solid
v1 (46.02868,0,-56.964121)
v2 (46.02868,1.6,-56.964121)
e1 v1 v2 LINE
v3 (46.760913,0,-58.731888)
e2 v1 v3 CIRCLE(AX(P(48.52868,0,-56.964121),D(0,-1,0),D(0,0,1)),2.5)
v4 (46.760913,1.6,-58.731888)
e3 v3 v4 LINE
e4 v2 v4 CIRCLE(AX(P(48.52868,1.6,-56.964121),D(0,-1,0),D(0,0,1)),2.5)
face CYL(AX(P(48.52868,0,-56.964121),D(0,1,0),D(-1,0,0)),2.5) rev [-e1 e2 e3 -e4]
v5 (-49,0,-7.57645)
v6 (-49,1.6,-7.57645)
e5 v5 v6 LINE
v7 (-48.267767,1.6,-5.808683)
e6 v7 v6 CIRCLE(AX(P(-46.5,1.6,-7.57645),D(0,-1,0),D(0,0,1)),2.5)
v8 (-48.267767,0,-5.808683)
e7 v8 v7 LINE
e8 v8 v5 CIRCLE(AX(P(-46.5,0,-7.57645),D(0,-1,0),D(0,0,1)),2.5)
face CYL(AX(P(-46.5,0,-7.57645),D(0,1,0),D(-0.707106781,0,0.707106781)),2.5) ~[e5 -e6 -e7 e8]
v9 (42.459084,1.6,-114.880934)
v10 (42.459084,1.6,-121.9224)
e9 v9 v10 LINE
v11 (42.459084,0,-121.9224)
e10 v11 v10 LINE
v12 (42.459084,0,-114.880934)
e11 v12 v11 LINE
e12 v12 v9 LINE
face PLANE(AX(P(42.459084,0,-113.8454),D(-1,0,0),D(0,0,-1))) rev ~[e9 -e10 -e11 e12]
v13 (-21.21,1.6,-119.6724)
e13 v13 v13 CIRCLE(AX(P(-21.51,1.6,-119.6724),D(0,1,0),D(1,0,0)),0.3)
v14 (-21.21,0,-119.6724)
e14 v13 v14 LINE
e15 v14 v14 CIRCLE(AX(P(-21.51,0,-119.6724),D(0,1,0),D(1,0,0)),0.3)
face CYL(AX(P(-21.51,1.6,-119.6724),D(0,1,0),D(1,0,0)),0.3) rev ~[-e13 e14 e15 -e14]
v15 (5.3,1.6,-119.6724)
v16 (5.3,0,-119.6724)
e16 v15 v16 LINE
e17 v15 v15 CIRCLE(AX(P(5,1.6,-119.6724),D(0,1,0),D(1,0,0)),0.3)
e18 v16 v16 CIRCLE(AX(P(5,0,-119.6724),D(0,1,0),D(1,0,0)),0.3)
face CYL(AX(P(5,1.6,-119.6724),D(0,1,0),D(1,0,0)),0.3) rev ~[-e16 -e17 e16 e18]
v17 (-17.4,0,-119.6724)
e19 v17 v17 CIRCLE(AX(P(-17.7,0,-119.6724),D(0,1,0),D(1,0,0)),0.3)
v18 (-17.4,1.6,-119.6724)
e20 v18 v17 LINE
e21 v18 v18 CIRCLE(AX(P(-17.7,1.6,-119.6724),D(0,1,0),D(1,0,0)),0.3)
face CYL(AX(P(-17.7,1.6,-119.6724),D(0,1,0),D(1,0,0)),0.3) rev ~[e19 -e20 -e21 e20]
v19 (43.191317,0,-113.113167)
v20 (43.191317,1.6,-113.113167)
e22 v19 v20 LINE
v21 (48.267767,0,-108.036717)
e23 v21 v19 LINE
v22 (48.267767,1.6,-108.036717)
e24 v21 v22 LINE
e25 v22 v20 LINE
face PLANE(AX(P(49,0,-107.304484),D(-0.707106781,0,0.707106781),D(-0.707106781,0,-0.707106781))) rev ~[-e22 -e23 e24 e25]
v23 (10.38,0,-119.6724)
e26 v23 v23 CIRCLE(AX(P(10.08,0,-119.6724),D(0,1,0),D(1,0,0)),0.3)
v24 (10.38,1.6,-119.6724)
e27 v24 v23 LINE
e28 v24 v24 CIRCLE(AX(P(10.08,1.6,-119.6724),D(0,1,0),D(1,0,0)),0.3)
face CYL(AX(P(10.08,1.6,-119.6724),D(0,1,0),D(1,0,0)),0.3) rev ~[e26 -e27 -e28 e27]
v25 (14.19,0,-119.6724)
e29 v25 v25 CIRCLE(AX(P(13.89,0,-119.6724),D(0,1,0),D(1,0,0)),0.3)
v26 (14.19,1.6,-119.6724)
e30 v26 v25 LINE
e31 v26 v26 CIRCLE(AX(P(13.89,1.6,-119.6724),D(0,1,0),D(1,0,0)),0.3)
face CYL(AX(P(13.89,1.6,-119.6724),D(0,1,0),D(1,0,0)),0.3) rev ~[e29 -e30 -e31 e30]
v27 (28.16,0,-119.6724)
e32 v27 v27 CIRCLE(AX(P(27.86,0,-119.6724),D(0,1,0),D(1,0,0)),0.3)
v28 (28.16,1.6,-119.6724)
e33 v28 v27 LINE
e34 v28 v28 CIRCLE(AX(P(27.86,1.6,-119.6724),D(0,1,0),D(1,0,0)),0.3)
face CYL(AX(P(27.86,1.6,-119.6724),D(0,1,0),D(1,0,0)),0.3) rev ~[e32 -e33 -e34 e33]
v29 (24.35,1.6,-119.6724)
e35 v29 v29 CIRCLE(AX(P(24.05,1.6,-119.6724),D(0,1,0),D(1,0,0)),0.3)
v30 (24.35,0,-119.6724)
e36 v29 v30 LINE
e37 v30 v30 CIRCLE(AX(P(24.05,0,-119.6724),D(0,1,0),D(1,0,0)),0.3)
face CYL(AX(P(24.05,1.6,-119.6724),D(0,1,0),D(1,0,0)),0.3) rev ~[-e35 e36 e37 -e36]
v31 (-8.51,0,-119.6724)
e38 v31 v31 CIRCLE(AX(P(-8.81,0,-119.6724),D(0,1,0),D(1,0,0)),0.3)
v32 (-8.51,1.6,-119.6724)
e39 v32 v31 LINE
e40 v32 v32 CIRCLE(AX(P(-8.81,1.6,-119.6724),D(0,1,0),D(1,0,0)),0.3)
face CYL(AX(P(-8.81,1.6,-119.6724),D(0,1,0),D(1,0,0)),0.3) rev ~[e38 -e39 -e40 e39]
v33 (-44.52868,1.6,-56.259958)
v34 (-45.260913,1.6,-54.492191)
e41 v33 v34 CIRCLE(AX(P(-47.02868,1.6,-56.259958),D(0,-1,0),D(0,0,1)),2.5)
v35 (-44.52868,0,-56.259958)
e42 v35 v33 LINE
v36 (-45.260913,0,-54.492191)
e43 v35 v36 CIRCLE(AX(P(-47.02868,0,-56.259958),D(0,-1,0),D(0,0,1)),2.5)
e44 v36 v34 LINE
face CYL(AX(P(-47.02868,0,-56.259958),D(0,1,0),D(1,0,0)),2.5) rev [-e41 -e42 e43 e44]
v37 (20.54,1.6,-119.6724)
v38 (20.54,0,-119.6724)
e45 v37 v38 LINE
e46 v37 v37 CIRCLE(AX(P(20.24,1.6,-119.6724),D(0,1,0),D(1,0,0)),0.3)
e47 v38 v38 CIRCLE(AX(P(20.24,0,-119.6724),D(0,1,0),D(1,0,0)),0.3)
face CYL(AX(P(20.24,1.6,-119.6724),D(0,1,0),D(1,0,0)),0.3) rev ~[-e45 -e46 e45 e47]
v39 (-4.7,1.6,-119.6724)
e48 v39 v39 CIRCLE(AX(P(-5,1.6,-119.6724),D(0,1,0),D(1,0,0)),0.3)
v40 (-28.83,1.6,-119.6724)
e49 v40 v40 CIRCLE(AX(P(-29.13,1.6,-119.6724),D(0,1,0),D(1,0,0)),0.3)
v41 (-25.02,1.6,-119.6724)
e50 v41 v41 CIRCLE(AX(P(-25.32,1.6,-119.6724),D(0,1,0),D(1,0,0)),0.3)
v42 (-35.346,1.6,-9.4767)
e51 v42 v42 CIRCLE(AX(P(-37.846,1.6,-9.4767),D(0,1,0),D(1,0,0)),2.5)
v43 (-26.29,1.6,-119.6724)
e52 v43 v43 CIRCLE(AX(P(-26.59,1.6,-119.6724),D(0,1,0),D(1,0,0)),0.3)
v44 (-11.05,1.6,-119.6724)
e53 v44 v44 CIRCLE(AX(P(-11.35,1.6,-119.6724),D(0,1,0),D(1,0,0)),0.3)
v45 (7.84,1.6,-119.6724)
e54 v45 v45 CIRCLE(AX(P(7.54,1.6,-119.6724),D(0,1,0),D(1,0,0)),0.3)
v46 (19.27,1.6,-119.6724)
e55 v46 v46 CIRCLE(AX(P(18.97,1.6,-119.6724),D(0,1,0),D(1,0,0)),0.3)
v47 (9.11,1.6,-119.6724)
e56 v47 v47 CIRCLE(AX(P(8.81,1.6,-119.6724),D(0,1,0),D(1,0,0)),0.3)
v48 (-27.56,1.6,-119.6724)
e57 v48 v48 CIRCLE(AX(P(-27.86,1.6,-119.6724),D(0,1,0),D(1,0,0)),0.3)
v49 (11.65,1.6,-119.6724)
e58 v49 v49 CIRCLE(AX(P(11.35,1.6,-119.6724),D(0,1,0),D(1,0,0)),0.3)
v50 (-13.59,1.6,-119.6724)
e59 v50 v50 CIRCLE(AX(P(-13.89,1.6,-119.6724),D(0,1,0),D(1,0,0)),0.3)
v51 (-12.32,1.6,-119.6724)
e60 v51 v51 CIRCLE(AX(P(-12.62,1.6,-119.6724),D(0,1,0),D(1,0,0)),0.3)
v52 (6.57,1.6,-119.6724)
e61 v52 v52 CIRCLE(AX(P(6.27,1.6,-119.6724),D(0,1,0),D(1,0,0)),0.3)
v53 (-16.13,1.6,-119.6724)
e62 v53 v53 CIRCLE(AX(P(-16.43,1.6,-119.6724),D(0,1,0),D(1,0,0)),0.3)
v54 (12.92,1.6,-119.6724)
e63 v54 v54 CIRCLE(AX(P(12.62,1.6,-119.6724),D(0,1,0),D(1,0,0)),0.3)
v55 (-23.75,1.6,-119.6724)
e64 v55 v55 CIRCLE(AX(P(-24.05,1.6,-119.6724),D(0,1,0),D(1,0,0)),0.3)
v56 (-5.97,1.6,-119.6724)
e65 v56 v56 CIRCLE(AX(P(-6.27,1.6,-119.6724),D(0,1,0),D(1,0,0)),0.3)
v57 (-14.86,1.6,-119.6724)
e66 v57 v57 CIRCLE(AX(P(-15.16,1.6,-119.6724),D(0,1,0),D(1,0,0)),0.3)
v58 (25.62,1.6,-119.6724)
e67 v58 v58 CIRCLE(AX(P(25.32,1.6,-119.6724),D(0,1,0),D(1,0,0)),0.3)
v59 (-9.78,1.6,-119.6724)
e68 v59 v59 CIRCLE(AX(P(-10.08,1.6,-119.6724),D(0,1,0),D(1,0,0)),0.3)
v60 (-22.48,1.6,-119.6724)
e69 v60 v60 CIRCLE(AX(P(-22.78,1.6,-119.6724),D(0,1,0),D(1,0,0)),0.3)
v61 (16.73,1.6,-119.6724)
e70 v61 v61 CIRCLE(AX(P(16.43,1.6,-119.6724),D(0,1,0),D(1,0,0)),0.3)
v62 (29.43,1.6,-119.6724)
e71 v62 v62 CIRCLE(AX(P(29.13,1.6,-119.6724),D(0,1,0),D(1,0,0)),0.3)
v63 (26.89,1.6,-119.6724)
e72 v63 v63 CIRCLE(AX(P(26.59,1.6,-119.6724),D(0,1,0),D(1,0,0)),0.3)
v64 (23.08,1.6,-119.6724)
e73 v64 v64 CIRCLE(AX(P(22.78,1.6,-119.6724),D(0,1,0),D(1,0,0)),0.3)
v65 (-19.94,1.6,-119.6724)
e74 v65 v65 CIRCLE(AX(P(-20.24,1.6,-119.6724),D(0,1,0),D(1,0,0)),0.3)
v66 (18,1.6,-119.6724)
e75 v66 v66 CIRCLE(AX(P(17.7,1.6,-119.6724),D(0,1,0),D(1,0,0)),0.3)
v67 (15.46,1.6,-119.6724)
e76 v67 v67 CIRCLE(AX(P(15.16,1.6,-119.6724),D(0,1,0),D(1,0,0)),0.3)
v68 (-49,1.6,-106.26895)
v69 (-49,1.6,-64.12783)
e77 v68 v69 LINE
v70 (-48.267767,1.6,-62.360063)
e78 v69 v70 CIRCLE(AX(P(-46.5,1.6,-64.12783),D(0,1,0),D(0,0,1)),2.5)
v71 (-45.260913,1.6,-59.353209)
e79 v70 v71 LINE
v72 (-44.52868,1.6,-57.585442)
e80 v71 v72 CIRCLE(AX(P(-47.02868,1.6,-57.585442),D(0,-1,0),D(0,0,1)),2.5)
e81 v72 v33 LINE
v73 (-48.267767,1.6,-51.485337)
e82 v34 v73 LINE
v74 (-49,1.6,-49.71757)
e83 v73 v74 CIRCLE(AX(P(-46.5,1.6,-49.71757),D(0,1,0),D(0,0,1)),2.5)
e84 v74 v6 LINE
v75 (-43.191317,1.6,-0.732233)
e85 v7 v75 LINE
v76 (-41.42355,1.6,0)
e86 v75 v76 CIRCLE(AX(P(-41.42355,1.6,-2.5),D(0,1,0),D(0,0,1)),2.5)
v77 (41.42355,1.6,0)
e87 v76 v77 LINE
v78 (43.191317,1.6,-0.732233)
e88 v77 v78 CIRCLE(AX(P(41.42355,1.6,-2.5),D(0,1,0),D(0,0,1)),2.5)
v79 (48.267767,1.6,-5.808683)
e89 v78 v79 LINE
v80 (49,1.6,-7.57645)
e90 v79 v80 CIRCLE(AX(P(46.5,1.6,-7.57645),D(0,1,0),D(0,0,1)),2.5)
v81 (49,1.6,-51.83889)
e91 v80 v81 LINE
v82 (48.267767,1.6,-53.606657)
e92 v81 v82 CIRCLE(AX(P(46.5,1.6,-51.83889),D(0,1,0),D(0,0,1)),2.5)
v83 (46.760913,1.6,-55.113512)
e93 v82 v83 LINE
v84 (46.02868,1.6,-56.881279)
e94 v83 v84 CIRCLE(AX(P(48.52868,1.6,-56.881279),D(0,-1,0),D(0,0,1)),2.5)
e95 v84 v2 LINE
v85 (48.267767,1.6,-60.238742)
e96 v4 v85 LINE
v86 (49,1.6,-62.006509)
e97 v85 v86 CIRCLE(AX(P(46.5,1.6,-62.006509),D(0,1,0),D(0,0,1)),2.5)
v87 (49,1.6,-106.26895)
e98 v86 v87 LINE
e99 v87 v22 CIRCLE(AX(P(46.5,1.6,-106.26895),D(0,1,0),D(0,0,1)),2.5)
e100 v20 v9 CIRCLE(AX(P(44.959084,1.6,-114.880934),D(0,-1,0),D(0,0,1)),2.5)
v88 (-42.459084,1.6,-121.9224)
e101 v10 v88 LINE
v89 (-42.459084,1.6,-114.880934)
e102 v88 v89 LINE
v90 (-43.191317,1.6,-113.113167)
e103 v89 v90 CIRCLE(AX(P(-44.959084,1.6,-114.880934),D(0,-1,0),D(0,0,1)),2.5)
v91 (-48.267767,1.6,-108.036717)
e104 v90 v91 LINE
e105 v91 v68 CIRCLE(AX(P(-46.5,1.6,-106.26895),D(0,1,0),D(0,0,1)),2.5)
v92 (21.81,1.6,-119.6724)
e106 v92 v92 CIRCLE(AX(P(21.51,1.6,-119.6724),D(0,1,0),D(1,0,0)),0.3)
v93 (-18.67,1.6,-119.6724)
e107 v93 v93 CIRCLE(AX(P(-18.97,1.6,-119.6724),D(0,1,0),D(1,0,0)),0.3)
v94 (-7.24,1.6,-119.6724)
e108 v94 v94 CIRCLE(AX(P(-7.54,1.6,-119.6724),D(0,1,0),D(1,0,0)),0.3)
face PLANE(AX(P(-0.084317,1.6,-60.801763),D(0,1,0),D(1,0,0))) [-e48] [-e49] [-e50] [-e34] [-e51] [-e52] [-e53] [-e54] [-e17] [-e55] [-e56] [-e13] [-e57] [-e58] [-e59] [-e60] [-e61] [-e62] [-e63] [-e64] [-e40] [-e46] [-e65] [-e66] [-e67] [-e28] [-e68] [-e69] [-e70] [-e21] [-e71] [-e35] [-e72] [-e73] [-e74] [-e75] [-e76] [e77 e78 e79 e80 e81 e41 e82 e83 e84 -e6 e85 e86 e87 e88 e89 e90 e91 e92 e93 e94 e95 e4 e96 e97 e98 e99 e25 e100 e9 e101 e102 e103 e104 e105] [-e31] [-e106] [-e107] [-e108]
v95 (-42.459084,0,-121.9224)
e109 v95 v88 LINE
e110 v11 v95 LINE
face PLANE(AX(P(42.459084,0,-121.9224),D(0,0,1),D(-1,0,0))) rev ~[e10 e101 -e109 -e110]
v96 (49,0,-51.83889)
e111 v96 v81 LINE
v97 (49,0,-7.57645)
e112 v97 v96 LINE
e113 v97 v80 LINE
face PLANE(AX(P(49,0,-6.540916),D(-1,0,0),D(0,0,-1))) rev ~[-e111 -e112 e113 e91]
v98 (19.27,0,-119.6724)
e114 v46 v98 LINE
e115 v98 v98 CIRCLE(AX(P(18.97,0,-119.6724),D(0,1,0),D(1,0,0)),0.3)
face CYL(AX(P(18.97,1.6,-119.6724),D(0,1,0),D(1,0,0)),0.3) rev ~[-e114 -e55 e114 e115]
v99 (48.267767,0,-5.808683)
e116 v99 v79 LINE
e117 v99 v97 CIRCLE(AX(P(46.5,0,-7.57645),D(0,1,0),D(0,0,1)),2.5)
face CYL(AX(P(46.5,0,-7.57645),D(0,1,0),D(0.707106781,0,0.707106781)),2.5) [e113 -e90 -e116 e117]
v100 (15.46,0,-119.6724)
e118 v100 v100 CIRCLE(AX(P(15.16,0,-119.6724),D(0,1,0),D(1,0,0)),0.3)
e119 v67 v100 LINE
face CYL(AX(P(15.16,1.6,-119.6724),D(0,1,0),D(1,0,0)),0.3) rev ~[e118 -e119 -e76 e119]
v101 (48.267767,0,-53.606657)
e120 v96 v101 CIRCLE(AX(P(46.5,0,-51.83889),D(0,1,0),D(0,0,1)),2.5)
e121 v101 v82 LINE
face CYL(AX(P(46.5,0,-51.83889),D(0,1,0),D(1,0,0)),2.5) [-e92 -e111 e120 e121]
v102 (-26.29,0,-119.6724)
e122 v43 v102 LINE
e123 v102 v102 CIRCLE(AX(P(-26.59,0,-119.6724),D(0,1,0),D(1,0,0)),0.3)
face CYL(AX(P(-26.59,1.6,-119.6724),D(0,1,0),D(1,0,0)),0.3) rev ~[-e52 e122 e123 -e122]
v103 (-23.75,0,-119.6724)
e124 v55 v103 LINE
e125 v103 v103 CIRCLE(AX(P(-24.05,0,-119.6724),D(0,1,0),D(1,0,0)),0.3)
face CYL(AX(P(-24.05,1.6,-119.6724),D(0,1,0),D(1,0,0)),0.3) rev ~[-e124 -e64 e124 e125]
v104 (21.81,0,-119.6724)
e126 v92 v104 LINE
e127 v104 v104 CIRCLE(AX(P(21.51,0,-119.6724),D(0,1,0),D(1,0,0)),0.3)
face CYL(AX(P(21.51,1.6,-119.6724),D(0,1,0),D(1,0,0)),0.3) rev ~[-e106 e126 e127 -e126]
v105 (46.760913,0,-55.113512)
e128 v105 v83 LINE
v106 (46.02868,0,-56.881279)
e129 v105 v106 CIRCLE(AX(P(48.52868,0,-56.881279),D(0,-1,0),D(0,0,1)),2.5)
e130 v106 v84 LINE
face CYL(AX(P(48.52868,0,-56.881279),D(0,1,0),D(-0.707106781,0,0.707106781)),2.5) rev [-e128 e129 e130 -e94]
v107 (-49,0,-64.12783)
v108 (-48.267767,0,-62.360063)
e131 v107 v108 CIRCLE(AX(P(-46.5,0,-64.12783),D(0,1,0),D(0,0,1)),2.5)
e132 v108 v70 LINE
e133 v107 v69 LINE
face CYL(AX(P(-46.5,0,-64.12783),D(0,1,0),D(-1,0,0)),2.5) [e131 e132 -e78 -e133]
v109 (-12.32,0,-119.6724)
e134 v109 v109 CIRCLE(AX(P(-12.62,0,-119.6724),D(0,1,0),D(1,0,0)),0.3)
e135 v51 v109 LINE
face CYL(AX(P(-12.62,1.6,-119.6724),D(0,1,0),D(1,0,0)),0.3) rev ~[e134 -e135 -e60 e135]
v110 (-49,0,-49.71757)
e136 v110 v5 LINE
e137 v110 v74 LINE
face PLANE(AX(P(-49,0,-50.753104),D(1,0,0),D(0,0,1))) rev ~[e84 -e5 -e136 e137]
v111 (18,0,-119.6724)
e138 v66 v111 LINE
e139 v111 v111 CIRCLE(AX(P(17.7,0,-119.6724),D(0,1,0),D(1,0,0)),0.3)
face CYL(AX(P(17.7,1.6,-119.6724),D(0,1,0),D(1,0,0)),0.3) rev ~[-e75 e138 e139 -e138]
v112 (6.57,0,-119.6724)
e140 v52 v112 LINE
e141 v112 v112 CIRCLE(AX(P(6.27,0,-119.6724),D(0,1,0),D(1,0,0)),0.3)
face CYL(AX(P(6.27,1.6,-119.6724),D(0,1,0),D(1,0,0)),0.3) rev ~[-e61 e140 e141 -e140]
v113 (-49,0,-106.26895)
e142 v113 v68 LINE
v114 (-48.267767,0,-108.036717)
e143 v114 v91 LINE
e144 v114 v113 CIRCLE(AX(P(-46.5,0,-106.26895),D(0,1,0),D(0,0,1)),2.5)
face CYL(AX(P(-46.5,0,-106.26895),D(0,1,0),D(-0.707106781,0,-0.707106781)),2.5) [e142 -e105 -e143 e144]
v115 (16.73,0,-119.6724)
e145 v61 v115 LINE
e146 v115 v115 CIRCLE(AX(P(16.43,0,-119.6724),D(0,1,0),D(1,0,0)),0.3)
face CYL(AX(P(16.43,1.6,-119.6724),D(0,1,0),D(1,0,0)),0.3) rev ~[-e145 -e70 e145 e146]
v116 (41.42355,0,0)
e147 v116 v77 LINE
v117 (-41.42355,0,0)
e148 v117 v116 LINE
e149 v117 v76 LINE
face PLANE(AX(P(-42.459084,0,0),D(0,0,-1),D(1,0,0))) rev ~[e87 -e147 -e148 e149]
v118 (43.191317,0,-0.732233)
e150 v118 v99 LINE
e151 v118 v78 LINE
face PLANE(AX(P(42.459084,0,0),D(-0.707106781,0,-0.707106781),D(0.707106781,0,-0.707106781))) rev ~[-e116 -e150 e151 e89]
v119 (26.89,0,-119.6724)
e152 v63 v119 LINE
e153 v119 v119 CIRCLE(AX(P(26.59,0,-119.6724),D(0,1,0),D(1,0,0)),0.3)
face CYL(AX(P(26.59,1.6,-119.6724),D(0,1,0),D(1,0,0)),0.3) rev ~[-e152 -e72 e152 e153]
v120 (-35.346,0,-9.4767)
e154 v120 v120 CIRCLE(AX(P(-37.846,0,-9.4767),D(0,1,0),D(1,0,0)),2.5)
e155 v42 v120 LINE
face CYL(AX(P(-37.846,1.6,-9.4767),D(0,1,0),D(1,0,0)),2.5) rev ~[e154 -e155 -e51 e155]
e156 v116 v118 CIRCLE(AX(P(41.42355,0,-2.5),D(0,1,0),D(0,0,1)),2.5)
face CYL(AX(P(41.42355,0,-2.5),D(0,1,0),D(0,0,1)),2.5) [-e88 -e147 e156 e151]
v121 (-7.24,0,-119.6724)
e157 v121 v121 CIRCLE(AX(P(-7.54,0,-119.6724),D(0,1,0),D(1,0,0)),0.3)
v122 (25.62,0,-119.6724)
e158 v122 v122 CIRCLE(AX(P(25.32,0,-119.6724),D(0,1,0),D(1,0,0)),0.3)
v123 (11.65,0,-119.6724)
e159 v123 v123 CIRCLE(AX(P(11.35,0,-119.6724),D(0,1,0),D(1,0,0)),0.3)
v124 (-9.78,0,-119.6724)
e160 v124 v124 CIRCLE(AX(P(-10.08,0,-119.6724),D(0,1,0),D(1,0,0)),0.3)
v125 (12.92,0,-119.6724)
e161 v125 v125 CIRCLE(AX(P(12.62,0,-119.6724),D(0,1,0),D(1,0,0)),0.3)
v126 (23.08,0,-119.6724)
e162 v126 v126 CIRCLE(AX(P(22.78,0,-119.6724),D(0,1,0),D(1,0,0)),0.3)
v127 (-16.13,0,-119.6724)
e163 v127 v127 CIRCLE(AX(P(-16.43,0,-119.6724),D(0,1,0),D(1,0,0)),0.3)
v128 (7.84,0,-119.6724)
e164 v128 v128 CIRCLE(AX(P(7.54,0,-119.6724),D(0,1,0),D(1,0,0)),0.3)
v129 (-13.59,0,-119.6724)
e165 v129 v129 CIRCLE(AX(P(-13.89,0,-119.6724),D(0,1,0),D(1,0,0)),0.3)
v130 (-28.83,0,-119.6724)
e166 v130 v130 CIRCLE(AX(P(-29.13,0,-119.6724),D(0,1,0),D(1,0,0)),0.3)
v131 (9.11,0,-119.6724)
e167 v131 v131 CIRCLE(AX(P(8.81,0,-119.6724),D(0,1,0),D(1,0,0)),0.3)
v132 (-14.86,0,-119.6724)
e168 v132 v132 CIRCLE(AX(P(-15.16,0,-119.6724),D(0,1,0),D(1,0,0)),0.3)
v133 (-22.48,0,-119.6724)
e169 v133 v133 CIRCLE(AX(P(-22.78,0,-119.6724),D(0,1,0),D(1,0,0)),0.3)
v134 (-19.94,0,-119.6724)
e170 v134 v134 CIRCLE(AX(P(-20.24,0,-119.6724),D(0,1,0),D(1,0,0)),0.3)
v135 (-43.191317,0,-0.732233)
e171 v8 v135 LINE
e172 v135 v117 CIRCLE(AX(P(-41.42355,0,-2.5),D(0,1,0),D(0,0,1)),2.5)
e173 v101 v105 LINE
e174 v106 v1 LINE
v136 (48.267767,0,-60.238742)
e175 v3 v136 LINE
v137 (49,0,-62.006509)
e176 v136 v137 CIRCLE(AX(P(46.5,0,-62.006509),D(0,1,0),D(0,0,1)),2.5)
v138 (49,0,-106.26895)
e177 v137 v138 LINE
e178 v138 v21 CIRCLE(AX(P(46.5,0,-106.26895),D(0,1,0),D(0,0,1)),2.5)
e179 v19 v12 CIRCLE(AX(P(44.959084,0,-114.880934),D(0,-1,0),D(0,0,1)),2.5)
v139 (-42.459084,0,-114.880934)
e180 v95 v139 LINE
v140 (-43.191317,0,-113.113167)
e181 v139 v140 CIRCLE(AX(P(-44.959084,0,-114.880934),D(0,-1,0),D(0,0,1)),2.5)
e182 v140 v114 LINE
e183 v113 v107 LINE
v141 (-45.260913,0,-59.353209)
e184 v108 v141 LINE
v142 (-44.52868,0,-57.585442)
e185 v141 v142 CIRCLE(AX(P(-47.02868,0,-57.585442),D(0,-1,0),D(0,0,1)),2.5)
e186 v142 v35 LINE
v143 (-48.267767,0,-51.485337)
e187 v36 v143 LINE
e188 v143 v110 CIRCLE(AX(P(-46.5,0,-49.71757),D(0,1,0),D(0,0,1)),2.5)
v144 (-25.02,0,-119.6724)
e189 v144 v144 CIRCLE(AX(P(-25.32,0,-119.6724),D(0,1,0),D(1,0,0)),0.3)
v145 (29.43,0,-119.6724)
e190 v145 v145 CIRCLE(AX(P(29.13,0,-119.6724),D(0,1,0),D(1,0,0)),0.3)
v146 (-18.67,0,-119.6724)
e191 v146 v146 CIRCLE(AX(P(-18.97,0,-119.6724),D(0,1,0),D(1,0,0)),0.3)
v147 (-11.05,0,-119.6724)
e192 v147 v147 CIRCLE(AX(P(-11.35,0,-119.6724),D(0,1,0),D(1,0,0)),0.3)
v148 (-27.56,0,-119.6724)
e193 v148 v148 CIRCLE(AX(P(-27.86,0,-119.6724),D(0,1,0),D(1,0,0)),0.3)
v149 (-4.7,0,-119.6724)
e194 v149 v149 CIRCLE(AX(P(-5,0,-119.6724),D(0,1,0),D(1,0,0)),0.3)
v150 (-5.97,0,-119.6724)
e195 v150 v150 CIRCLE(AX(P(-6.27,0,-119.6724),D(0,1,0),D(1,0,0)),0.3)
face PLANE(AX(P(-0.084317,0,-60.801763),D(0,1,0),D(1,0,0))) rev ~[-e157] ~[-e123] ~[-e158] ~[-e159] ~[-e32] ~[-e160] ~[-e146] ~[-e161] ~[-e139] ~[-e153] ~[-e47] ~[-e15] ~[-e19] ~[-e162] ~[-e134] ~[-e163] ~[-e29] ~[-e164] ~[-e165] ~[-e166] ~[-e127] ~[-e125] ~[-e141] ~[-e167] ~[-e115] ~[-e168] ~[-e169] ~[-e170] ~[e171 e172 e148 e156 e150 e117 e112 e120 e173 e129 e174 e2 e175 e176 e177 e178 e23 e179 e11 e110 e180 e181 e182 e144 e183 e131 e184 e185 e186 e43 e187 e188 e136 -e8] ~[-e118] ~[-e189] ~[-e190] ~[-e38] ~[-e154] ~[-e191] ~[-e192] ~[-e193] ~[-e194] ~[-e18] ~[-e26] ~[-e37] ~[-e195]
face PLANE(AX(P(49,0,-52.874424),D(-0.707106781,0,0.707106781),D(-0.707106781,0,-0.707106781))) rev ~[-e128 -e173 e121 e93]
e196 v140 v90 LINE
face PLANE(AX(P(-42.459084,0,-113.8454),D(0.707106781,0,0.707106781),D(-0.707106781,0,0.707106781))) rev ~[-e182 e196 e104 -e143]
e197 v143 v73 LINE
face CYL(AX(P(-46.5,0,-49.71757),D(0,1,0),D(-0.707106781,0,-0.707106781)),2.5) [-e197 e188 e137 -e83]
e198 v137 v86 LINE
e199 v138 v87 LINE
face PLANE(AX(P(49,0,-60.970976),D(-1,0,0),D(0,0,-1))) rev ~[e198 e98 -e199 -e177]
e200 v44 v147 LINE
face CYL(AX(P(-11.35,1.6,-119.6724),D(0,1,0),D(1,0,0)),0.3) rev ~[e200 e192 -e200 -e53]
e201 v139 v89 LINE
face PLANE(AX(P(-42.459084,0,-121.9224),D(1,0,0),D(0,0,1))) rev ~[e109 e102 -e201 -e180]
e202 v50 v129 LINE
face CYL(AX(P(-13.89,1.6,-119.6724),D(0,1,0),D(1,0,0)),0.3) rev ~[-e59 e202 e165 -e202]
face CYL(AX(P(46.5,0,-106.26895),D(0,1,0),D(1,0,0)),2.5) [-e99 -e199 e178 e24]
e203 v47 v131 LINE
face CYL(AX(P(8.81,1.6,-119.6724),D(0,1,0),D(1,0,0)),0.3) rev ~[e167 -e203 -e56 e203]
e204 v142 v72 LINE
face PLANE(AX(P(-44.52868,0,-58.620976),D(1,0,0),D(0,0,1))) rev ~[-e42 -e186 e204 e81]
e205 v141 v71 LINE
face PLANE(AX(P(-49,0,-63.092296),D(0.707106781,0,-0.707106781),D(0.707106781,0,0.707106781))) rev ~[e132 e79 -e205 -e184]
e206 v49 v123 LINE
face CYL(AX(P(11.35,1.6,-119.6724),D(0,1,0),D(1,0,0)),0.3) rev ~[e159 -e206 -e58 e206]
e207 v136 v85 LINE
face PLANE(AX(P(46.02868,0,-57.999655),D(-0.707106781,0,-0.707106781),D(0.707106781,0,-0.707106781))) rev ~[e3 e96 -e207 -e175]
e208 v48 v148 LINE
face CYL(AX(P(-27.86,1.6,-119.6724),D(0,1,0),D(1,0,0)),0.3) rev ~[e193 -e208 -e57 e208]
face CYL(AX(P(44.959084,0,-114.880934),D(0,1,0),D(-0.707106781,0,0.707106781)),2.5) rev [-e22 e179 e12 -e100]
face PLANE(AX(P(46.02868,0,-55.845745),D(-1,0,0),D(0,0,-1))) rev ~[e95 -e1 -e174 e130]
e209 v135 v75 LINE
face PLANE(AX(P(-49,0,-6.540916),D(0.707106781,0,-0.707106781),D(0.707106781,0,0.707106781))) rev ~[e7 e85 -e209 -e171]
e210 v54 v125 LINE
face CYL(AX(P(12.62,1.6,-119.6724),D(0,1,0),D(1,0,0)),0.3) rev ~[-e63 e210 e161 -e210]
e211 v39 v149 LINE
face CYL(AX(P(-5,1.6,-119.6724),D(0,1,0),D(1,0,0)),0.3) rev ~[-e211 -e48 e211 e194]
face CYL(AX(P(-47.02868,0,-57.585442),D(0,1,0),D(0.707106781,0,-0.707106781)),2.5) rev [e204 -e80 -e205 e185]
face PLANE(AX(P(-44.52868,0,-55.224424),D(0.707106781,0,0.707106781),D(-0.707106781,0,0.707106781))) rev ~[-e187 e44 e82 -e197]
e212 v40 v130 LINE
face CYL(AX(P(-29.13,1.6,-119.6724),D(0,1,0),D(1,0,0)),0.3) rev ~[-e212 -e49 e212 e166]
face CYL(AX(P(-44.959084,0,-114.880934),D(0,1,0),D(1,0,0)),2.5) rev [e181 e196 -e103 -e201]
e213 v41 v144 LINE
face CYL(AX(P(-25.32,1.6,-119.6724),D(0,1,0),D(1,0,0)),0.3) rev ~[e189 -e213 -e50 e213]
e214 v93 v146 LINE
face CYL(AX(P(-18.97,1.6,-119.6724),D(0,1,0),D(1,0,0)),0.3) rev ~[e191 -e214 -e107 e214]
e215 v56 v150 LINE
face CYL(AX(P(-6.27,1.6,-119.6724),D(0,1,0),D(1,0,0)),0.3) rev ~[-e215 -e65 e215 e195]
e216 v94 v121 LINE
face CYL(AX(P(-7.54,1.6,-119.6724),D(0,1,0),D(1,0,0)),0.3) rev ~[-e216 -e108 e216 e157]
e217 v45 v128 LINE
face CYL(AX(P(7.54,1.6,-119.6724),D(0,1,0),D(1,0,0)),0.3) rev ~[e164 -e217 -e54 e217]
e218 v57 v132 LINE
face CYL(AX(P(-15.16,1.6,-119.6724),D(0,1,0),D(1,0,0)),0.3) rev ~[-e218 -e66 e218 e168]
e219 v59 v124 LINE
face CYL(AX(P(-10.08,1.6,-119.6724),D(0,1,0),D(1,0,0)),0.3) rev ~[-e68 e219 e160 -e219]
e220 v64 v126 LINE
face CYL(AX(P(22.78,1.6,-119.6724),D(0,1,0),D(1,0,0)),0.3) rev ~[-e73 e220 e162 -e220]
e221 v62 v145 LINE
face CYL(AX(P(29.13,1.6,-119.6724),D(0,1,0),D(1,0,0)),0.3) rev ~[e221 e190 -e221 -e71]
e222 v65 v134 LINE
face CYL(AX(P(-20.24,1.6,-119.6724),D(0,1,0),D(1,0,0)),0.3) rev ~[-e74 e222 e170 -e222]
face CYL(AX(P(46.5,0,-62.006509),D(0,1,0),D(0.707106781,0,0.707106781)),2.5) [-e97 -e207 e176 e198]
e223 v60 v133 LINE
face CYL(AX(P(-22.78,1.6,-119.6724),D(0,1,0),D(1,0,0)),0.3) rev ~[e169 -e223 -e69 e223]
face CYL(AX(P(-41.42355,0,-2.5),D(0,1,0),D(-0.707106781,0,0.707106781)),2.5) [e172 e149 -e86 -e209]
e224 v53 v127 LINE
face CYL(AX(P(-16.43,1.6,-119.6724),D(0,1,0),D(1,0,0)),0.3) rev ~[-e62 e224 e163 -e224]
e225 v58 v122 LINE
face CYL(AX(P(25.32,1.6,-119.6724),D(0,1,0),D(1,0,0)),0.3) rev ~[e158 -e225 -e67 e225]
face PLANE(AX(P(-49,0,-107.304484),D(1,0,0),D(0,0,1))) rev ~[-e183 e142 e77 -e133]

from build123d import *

# Parameters (mm, degrees)
BOSS_EXTRUDE1_DEPTH = 1.6
FILLET1_R           = 2.5
SKETCH15_R          = 2.5
CUT_EXTRUDE5_DEPTH  = 2.6
SKETCH16_R          = 0.3
CUT_EXTRUDE6_DEPTH  = 2.6


with BuildPart() as part:
    # Sketch1 → Boss-Extrude1 (new body)
    with BuildSketch(Plane(origin=(0, 0, 0), x_dir=(1, 0, 0), z_dir=(0, 1, 0))):
        Polygon((-49, 6.540916192), (-42.459083808, 0), (42.459083808, 0), (49, 6.540916192), (49, 50.753104052), (49, 52.874424396), (46.028679707, 55.845744689), (46.028679707, 57.999655213), (49, 60.970975506), (49, 63.09229585), (49, 107.30448371), (42.459083808, 113.845399902), (42.459083808, 121.922399609), (-42.459083808, 121.922399609), (-42.459083808, 113.845399902), (-49, 107.30448371), (-49, 63.09229585), (-44.528679707, 58.620975557), (-44.528679707, 55.224424345), (-49, 50.753104052), align=None)
    extrude(amount=BOSS_EXTRUDE1_DEPTH)

    # Fillet1
    fillet1_edges = [part.edges().sort_by_distance(p)[0] for p in [
        (49, 0.8, -6.540916192),
        (42.459083808, 0.8, 0),
        (-42.459083808, 0.8, 0),
        (-49, 0.8, -6.540916192),
        (-49, 0.8, -50.753104052),
        (-44.528679707, 0.8, -55.224424345),
        (-44.528679707, 0.8, -58.620975557),
        (-49, 0.8, -63.09229585),
        (-49, 0.8, -107.30448371),
        (-42.459083808, 0.8, -113.845399902),
        (42.459083808, 0.8, -113.845399902),
        (49, 0.8, -107.30448371),
        (49, 0.8, -60.970975506),
        (46.028679707, 0.8, -57.999655213),
        (46.028679707, 0.8, -55.845744689),
        (49, 0.8, -52.874424396),
    ]]
    fillet(fillet1_edges, radius=FILLET1_R)

    # Sketch15 → Cut-Extrude5 (cut, through all)
    with BuildSketch(Plane(origin=(0, 1.6, 0), x_dir=(1, 0, 0), z_dir=(0, 1, 0))):
        with Locations((-37.846, 9.4767)):
            Circle(SKETCH15_R)
    extrude(amount=-CUT_EXTRUDE5_DEPTH, mode=Mode.SUBTRACT)

    # Sketch16 → Cut-Extrude6 (cut, through all)
    with BuildSketch(Plane(origin=(0, 1.6, 0), x_dir=(1, 0, 0), z_dir=(0, 1, 0))):
        with Locations((-29.13, 119.672399609)):
            Circle(SKETCH16_R)
        with Locations((-27.86, 119.672399609)):
            Circle(SKETCH16_R)
        with Locations((-26.59, 119.672399609)):
            Circle(SKETCH16_R)
        with Locations((-25.32, 119.672399609)):
            Circle(SKETCH16_R)
        with Locations((-24.05, 119.672399609)):
            Circle(SKETCH16_R)
        with Locations((-22.78, 119.672399609)):
            Circle(SKETCH16_R)
        with Locations((-21.51, 119.672399609)):
            Circle(SKETCH16_R)
        with Locations((-20.24, 119.672399609)):
            Circle(SKETCH16_R)
        with Locations((-18.97, 119.672399609)):
            Circle(SKETCH16_R)
        with Locations((-17.7, 119.672399609)):
            Circle(SKETCH16_R)
        with Locations((-16.43, 119.672399609)):
            Circle(SKETCH16_R)
        with Locations((-15.16, 119.672399609)):
            Circle(SKETCH16_R)
        with Locations((-13.89, 119.672399609)):
            Circle(SKETCH16_R)
        with Locations((-12.62, 119.672399609)):
            Circle(SKETCH16_R)
        with Locations((-11.35, 119.672399609)):
            Circle(SKETCH16_R)
        with Locations((-10.08, 119.672399609)):
            Circle(SKETCH16_R)
        with Locations((-8.81, 119.672399609)):
            Circle(SKETCH16_R)
        with Locations((-7.54, 119.672399609)):
            Circle(SKETCH16_R)
        with Locations((-6.27, 119.672399609)):
            Circle(SKETCH16_R)
        with Locations((-5, 119.672399609)):
            Circle(SKETCH16_R)
        with Locations((5, 119.672399609)):
            Circle(SKETCH16_R)
        with Locations((6.27, 119.672399609)):
            Circle(SKETCH16_R)
        with Locations((7.54, 119.672399609)):
            Circle(SKETCH16_R)
        with Locations((8.81, 119.672399609)):
            Circle(SKETCH16_R)
        with Locations((10.08, 119.672399609)):
            Circle(SKETCH16_R)
        with Locations((11.35, 119.672399609)):
            Circle(SKETCH16_R)
        with Locations((12.62, 119.672399609)):
            Circle(SKETCH16_R)
        with Locations((13.89, 119.672399609)):
            Circle(SKETCH16_R)
        with Locations((15.16, 119.672399609)):
            Circle(SKETCH16_R)
        with Locations((16.43, 119.672399609)):
            Circle(SKETCH16_R)
        with Locations((17.7, 119.672399609)):
            Circle(SKETCH16_R)
        with Locations((18.97, 119.672399609)):
            Circle(SKETCH16_R)
        with Locations((20.24, 119.672399609)):
            Circle(SKETCH16_R)
        with Locations((21.51, 119.672399609)):
            Circle(SKETCH16_R)
        with Locations((22.78, 119.672399609)):
            Circle(SKETCH16_R)
        with Locations((24.05, 119.672399609)):
            Circle(SKETCH16_R)
        with Locations((25.32, 119.672399609)):
            Circle(SKETCH16_R)
        with Locations((26.59, 119.672399609)):
            Circle(SKETCH16_R)
        with Locations((27.86, 119.672399609)):
            Circle(SKETCH16_R)
        with Locations((29.13, 119.672399609)):
            Circle(SKETCH16_R)
    extrude(amount=-CUT_EXTRUDE6_DEPTH, mode=Mode.SUBTRACT)


solid = part.part
